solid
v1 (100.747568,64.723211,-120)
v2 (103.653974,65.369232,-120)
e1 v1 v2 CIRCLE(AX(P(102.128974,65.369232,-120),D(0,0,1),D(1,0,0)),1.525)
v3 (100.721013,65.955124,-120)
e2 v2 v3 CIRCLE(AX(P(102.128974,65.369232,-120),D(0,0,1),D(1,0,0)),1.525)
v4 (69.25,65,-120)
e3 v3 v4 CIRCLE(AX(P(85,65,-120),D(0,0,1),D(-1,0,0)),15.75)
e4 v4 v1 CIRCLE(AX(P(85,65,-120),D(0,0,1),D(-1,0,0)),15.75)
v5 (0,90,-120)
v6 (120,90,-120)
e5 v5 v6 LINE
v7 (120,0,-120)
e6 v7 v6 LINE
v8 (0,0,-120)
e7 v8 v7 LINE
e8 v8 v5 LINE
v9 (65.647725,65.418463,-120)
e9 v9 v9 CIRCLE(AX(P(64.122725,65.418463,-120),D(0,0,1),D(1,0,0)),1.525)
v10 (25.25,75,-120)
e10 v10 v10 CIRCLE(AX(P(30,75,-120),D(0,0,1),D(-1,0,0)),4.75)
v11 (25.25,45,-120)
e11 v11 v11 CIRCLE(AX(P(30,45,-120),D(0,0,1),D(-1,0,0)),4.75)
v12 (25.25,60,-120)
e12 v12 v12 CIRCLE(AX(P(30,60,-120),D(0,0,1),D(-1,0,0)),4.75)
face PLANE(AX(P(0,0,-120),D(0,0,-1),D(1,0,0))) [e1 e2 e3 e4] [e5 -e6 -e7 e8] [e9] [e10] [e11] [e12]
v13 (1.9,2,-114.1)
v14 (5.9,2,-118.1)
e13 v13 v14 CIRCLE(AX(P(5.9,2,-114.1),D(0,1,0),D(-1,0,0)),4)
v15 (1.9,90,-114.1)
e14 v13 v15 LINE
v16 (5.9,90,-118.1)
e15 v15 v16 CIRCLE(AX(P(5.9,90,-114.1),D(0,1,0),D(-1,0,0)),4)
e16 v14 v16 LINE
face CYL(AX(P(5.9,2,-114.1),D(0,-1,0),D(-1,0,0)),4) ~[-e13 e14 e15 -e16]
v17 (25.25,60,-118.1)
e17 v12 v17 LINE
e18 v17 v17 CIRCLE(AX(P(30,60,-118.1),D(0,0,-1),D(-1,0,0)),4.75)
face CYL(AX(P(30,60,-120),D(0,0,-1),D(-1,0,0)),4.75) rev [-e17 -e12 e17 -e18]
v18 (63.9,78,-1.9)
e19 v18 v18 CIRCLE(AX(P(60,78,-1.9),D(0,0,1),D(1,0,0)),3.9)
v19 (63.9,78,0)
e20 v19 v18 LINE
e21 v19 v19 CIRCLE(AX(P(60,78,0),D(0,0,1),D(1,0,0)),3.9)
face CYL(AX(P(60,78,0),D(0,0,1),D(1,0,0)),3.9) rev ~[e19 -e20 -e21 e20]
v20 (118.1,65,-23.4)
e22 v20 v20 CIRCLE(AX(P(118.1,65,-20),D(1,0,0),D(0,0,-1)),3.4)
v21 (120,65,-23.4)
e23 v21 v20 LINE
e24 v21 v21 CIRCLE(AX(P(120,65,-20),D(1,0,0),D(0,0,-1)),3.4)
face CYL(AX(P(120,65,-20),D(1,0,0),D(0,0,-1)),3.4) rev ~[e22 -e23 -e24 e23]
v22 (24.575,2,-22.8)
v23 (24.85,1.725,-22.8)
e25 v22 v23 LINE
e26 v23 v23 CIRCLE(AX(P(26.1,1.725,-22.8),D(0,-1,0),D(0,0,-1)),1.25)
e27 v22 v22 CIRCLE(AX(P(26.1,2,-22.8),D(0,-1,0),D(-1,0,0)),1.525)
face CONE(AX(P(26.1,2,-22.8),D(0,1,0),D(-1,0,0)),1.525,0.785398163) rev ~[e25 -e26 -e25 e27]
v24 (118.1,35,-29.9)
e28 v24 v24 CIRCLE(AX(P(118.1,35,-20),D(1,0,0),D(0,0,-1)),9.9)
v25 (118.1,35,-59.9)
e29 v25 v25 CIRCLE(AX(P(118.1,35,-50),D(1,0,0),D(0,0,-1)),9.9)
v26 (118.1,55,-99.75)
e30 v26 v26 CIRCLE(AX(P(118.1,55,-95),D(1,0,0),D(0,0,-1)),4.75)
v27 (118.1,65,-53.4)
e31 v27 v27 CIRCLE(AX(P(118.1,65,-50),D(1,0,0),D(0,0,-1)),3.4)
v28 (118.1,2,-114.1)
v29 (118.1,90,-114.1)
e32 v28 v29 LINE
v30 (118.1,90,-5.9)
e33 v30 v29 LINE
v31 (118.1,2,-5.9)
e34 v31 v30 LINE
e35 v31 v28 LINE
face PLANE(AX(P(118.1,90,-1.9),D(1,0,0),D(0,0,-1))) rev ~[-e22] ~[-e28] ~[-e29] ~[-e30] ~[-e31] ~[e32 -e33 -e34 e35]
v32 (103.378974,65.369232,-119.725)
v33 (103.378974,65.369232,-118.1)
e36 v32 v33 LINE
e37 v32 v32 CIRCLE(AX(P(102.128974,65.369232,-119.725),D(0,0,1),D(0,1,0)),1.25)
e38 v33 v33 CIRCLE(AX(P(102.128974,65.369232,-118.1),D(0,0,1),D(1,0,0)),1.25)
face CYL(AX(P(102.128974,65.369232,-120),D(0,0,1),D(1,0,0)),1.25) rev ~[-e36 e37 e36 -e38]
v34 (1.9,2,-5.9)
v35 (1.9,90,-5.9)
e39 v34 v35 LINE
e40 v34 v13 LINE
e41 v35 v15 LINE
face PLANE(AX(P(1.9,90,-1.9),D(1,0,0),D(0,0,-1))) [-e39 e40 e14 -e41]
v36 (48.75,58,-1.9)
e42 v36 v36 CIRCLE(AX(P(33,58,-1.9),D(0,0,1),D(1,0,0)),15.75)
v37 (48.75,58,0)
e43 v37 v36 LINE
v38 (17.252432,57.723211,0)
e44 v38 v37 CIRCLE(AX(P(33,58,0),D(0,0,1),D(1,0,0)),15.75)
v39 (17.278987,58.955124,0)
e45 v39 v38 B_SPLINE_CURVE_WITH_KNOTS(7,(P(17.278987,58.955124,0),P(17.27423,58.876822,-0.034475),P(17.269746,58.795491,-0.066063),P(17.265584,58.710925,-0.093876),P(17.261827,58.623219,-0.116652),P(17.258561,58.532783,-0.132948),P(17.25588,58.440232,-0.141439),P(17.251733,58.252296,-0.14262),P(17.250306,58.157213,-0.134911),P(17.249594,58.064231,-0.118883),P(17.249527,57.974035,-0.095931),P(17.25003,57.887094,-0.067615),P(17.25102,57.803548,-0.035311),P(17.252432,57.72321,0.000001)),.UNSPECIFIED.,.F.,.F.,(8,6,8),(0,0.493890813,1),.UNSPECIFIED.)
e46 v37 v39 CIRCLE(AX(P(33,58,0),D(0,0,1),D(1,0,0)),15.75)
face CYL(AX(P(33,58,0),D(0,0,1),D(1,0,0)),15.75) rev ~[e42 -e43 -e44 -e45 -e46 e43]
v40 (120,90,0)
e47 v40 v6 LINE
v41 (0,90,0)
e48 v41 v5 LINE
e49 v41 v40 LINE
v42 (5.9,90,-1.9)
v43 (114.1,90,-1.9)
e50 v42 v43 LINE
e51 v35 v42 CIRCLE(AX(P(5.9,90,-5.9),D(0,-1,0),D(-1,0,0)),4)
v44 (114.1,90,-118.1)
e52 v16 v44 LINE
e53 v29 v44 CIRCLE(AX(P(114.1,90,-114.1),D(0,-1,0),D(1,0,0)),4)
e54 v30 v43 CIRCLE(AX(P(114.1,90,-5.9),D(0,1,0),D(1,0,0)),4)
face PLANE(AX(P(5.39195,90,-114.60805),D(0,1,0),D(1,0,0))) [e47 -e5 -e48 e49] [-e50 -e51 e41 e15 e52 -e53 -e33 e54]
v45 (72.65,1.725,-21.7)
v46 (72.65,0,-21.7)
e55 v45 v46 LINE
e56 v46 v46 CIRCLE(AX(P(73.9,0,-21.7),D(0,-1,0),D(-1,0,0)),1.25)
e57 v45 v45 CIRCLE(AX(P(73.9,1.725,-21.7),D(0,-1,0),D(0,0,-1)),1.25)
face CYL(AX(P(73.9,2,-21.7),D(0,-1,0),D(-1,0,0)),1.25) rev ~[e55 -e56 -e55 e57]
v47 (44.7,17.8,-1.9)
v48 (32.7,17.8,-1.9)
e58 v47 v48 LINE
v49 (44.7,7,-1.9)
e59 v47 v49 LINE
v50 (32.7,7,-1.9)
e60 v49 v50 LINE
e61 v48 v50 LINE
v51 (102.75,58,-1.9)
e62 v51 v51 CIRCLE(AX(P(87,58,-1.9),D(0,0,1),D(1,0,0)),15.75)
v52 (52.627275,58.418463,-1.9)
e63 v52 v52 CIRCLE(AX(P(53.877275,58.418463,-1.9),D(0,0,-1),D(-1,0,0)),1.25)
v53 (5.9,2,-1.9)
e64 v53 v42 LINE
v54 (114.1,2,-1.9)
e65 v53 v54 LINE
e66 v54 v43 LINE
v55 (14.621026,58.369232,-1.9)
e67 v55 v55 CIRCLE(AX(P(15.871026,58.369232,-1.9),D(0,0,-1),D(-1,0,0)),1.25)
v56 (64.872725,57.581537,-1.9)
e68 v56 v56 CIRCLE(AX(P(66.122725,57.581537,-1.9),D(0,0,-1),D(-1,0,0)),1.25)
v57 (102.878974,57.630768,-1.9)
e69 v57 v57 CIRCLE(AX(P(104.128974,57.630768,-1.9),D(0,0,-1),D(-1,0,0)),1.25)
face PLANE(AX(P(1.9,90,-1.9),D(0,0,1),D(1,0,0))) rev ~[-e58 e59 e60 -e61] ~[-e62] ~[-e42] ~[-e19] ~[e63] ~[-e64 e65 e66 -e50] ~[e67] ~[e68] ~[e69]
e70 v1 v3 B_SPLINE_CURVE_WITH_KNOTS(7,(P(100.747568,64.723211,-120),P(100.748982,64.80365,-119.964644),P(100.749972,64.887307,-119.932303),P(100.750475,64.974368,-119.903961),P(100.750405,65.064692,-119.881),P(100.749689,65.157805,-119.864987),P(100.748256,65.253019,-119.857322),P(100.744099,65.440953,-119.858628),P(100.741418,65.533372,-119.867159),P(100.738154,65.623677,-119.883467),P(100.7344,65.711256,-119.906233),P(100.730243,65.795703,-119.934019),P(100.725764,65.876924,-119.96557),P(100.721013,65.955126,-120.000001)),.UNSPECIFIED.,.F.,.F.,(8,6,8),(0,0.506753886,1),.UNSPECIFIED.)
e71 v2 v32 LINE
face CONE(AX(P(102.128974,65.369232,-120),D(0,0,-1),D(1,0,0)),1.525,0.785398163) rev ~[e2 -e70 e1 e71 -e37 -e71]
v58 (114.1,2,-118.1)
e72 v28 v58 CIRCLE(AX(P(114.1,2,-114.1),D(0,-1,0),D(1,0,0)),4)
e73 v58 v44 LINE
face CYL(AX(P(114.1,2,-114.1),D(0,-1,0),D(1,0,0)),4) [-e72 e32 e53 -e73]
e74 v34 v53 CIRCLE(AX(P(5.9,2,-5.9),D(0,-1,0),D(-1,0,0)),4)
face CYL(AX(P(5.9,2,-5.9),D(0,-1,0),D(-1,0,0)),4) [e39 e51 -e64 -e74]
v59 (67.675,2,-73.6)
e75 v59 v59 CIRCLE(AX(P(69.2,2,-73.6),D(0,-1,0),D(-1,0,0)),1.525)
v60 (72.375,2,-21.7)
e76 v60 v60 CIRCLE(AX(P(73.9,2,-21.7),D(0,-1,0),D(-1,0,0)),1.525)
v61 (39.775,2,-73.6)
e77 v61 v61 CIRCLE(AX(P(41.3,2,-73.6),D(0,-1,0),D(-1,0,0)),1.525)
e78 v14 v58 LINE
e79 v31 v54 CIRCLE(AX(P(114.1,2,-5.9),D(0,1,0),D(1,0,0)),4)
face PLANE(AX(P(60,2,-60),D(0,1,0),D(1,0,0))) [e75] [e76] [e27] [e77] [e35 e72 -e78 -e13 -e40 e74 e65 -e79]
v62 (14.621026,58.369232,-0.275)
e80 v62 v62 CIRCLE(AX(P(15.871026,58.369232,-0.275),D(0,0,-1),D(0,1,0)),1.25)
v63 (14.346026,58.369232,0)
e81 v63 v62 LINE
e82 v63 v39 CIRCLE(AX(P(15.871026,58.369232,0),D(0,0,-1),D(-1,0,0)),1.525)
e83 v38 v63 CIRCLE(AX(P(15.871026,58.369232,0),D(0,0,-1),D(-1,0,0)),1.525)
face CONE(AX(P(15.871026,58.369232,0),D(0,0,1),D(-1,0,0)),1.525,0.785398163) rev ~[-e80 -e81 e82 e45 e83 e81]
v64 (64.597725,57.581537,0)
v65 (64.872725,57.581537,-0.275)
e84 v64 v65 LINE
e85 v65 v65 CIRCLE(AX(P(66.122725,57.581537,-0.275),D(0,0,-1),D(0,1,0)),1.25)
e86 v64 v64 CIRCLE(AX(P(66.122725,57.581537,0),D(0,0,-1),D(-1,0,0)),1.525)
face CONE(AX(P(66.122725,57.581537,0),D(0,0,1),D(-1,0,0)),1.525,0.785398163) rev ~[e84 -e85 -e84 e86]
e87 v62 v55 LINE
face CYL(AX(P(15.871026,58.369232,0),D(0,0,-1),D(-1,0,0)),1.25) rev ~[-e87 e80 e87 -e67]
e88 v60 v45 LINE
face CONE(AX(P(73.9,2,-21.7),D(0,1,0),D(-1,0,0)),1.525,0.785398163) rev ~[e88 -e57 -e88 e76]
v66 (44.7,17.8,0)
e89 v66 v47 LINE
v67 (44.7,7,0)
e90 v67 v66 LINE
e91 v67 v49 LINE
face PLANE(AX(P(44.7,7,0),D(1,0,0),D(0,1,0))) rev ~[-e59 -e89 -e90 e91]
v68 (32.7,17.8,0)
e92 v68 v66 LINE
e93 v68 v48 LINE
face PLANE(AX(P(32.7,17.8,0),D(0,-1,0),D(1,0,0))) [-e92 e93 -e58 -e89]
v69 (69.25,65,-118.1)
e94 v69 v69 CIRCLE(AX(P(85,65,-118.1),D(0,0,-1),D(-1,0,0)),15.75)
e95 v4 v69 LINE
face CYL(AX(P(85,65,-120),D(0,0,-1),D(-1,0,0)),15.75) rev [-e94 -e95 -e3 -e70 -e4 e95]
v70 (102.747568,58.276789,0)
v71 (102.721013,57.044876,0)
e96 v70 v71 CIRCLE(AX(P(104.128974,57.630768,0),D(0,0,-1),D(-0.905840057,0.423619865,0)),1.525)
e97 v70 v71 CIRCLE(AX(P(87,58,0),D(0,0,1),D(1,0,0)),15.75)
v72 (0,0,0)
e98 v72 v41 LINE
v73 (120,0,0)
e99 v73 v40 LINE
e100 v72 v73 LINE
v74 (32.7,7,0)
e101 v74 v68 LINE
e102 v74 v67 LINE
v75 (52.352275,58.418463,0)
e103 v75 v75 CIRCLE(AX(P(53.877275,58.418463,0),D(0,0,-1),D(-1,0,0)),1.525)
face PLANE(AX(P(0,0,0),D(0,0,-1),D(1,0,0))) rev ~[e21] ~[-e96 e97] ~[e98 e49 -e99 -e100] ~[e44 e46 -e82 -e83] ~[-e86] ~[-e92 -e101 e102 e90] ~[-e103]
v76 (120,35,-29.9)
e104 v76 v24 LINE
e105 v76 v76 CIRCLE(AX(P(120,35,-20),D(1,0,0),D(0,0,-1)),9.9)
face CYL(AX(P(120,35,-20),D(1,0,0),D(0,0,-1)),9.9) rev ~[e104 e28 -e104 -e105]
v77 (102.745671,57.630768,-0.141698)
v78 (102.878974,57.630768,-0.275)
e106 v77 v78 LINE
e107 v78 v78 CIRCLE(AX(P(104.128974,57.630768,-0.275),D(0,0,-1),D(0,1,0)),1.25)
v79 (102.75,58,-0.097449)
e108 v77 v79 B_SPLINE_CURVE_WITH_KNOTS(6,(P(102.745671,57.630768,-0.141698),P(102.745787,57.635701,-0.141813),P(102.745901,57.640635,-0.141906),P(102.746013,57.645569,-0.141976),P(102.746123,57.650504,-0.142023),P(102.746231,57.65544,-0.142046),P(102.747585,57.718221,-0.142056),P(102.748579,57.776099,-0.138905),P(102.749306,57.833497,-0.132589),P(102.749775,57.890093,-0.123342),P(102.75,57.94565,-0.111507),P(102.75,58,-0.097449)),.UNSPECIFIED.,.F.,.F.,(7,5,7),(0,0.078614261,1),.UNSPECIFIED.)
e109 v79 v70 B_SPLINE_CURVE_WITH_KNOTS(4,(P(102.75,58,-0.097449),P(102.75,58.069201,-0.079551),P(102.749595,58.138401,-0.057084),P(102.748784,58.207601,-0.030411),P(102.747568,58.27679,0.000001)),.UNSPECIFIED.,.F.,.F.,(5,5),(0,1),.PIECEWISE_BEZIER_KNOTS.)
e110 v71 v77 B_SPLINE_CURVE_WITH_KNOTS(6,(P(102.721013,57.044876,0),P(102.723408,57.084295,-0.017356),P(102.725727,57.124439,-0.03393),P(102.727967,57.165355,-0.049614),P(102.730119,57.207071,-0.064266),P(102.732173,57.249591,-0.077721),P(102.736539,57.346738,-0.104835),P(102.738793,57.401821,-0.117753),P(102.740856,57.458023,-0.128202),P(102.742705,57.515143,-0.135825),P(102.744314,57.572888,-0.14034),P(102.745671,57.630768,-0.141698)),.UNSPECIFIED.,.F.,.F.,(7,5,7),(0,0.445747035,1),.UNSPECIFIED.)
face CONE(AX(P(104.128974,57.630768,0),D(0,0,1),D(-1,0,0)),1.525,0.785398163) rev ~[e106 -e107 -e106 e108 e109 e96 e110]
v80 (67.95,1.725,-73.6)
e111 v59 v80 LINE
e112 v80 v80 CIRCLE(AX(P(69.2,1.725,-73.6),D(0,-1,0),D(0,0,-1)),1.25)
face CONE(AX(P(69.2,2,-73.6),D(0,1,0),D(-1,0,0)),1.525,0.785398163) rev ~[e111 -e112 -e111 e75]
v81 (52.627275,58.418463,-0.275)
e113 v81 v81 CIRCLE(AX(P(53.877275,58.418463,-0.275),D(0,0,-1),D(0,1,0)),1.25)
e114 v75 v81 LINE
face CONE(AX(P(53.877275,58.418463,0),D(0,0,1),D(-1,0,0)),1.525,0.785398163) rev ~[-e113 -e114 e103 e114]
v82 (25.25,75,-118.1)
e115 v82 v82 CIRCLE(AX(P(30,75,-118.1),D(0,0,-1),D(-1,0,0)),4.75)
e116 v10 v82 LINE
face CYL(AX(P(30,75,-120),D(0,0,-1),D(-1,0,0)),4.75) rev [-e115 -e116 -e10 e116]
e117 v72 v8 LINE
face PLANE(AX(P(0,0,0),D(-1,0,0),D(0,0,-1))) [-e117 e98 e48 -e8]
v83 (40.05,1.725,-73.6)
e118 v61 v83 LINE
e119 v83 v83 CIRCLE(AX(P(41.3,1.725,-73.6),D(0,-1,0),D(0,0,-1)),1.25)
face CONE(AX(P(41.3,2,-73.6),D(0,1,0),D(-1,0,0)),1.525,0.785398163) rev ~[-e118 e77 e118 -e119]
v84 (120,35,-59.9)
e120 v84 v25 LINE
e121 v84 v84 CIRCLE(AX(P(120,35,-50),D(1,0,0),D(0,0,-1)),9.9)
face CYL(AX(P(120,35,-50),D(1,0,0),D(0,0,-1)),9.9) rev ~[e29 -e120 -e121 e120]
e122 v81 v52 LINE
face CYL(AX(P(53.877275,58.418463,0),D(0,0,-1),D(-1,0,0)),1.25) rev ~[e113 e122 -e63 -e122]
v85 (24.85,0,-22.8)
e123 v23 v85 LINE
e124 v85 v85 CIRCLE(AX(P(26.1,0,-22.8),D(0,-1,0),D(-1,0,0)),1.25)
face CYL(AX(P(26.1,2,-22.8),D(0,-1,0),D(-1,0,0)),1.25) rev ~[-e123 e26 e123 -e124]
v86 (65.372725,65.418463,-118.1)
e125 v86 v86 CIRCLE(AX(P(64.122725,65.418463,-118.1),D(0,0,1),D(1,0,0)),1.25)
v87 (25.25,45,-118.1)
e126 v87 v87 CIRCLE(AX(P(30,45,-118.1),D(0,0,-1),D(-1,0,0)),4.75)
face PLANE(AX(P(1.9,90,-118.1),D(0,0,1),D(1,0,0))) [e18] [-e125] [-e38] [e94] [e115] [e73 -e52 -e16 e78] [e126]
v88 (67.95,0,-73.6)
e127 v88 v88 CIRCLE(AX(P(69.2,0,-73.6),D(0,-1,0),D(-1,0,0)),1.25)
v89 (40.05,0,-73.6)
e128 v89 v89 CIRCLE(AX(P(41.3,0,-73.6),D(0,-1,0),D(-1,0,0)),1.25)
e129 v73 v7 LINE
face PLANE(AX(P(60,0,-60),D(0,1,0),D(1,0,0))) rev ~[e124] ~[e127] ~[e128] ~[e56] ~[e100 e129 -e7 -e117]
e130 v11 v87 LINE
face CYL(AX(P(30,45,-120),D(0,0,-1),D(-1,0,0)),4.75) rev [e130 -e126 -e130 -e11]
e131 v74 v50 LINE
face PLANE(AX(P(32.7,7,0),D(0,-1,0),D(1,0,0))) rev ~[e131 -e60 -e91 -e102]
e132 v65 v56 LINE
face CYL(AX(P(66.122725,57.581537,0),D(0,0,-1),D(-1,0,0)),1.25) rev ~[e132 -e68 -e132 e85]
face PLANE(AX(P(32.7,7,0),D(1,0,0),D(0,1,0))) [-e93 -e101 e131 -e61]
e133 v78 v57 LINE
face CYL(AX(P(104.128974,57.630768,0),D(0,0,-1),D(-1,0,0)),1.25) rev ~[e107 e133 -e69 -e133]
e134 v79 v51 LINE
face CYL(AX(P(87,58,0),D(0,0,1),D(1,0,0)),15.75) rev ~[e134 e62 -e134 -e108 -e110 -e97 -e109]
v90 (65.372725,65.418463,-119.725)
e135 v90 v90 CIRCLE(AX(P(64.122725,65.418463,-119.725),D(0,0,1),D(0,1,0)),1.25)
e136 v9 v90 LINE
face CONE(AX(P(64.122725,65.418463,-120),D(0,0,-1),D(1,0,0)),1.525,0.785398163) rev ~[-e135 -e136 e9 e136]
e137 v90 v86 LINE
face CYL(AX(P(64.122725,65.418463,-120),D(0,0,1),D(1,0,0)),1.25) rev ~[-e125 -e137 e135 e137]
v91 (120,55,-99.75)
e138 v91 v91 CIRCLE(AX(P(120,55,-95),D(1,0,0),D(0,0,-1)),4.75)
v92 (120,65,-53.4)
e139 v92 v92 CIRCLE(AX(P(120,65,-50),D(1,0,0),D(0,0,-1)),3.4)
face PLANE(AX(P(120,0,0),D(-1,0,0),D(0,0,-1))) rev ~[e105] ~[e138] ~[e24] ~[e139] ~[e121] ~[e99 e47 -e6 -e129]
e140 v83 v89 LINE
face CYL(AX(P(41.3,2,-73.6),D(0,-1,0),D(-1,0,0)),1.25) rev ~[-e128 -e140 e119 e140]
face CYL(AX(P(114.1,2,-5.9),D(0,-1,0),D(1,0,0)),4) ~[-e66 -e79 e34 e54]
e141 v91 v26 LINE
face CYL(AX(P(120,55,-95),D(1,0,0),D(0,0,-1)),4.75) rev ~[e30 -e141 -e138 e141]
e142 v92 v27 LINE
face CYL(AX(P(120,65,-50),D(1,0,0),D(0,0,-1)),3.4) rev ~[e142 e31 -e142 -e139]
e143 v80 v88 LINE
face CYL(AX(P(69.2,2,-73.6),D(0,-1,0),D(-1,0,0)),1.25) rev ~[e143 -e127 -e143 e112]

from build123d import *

# Parameters (mm, degrees)
SKETCH1_W                   = 120
SKETCH1_H                   = 120
BOSS_EXTRUDE1_DEPTH         = 90
SKETCH2_W                   = 116.2
SKETCH2_H                   = 116.2
CUT_EXTRUDE1_DEPTH          = 88
BOSS_EXTRUDE2_DEPTH         = 88
CUT_EXTRUDE2_REACH          = 194.094
SKETCH5_R                   = 4.75
SKETCH5_R_2                 = 15.75
CUT_EXTRUDE3_REACH          = 194.094
SKETCH4_R                   = 3.9
SKETCH4_R_2                 = 15.75
SKETCH4_W                   = 12
SKETCH4_H                   = 10.8
CUT_EXTRUDE4_REACH          = 194.094
SKETCH6_R                   = 4.75
SKETCH6_R_2                 = 3.4
SKETCH6_R_3                 = 9.9
M3_TAPPED_HOLE1_D           = 2.5
M3_TAPPED_HOLE1_CSINK_D     = 3.05
M3_TAPPED_HOLE1_CSINK_ANGLE = 90
M3_TAPPED_HOLE3_D           = 2.5
M3_TAPPED_HOLE3_DEPTH       = 7.5
M3_TAPPED_HOLE3_CSINK_D     = 3.05
M3_TAPPED_HOLE3_CSINK_ANGLE = 90
M3_TAPPED_HOLE3_TIP         = 0.751075774
M3_TAPPED_HOLE4_D           = 2.5
M3_TAPPED_HOLE4_DEPTH       = 7.5
M3_TAPPED_HOLE4_CSINK_D     = 3.05
M3_TAPPED_HOLE4_CSINK_ANGLE = 90
M3_TAPPED_HOLE4_TIP         = 0.751075774


with BuildPart() as part:
    # Sketch1 → Boss-Extrude1 (new body)
    with BuildSketch(Plane(origin=(0, 0, 0), x_dir=(1, 0, 0), z_dir=(0, 1, 0))):
        with Locations((60, 60)):
            Rectangle(SKETCH1_W, SKETCH1_H)
    extrude(amount=BOSS_EXTRUDE1_DEPTH)

    # Sketch2 → Cut-Extrude1 (cut)
    with BuildSketch(Plane(origin=(0, 90, 0), x_dir=(1, 0, 0), z_dir=(0, 1, 0))):
        with Locations((60, 60)):
            Rectangle(SKETCH2_W, SKETCH2_H)
    extrude(amount=-CUT_EXTRUDE1_DEPTH, mode=Mode.SUBTRACT)

    # Sketch3 → Boss-Extrude2 (add)
    with BuildSketch(Plane(origin=(0, 2, 0), x_dir=(1, 0, 0), z_dir=(0, 1, 0))):
        with BuildLine():
            Line((5.9, 118.1), (1.9, 118.1))
            Line((1.9, 118.1), (1.9, 114.1))
            ThreePointArc((1.9, 114.1), (8.728427125, 111.271572875), (5.9, 118.1))
        make_face()
        with BuildLine():
            Line((114.1, 118.1), (118.1, 118.1))
            Line((118.1, 118.1), (118.1, 114.1))
            ThreePointArc((118.1, 114.1), (111.271572875, 111.271572875), (114.1, 118.1))
        make_face()
        with BuildLine():
            Line((118.1, 1.9), (118.1, 5.9))
            ThreePointArc((118.1, 5.9), (111.271572875, 8.728427125), (114.1, 1.9))
            Line((114.1, 1.9), (118.1, 1.9))
        make_face()
        with BuildLine():
            Line((1.9, 1.9), (1.9, 5.9))
            ThreePointArc((1.9, 5.9), (8.728427125, 8.728427125), (5.9, 1.9))
            Line((5.9, 1.9), (1.9, 1.9))
        make_face()
    extrude(amount=BOSS_EXTRUDE2_DEPTH)

    # Sketch5 → Cut-Extrude2 (cut, up to next)
    with BuildSketch(Plane.XY.offset(-120), mode=Mode.PRIVATE) as cut_extrude2_sk1:
        with Locations(Location((30, 75, 0), (0, 0, 180))):
            Circle(SKETCH5_R)
    cut_extrude2_tool1 = extrude(cut_extrude2_sk1.sketch, amount=CUT_EXTRUDE2_REACH, mode=Mode.PRIVATE) & part.part
    # Sketch5 → Cut-Extrude2 (cut, up to next)
    with BuildSketch(Plane.XY.offset(-120), mode=Mode.PRIVATE) as cut_extrude2_sk2:
        with Locations(Location((85, 65, 0), (0, 0, 180))):
            Circle(SKETCH5_R_2)
    cut_extrude2_tool2 = extrude(cut_extrude2_sk2.sketch, amount=CUT_EXTRUDE2_REACH, mode=Mode.PRIVATE) & part.part
    # Sketch5 → Cut-Extrude2 (cut, up to next)
    with BuildSketch(Plane.XY.offset(-120), mode=Mode.PRIVATE) as cut_extrude2_sk3:
        with Locations(Location((30, 60, 0), (0, 0, 180))):
            Circle(SKETCH5_R)
    cut_extrude2_tool3 = extrude(cut_extrude2_sk3.sketch, amount=CUT_EXTRUDE2_REACH, mode=Mode.PRIVATE) & part.part
    # Sketch5 → Cut-Extrude2 (cut, up to next)
    with BuildSketch(Plane.XY.offset(-120), mode=Mode.PRIVATE) as cut_extrude2_sk4:
        with Locations(Location((30, 45, 0), (0, 0, 180))):
            Circle(SKETCH5_R)
    cut_extrude2_tool4 = extrude(cut_extrude2_sk4.sketch, amount=CUT_EXTRUDE2_REACH, mode=Mode.PRIVATE) & part.part
    add(cut_extrude2_tool1.solids().sort_by_distance((30, 75, -120))[0], mode=Mode.SUBTRACT)
    add(cut_extrude2_tool2.solids().sort_by_distance((85, 65, -120))[0], mode=Mode.SUBTRACT)
    add(cut_extrude2_tool3.solids().sort_by_distance((30, 60, -120))[0], mode=Mode.SUBTRACT)
    add(cut_extrude2_tool4.solids().sort_by_distance((30, 45, -120))[0], mode=Mode.SUBTRACT)

    # Sketch4 → Cut-Extrude3 (cut, up to next)
    with BuildSketch(Plane.XY, mode=Mode.PRIVATE) as cut_extrude3_sk1:
        with Locations((60, 78)):
            Circle(SKETCH4_R)
    cut_extrude3_tool1 = extrude(cut_extrude3_sk1.sketch, amount=-CUT_EXTRUDE3_REACH, mode=Mode.PRIVATE) & part.part
    # Sketch4 → Cut-Extrude3 (cut, up to next)
    with BuildSketch(Plane.XY, mode=Mode.PRIVATE) as cut_extrude3_sk2:
        with Locations((33, 58)):
            Circle(SKETCH4_R_2)
    cut_extrude3_tool2 = extrude(cut_extrude3_sk2.sketch, amount=-CUT_EXTRUDE3_REACH, mode=Mode.PRIVATE) & part.part
    # Sketch4 → Cut-Extrude3 (cut, up to next)
    with BuildSketch(Plane.XY, mode=Mode.PRIVATE) as cut_extrude3_sk3:
        with Locations((87, 58)):
            Circle(SKETCH4_R_2)
    cut_extrude3_tool3 = extrude(cut_extrude3_sk3.sketch, amount=-CUT_EXTRUDE3_REACH, mode=Mode.PRIVATE) & part.part
    # Sketch4 → Cut-Extrude3 (cut, up to next)
    with BuildSketch(Plane.XY, mode=Mode.PRIVATE) as cut_extrude3_sk4:
        with Locations((38.7, 12.4)):
            Rectangle(SKETCH4_W, SKETCH4_H)
    cut_extrude3_tool4 = extrude(cut_extrude3_sk4.sketch, amount=-CUT_EXTRUDE3_REACH, mode=Mode.PRIVATE) & part.part
    add(cut_extrude3_tool1.solids().sort_by_distance((60, 78, 0))[0], mode=Mode.SUBTRACT)
    add(cut_extrude3_tool2.solids().sort_by_distance((33, 58, 0))[0], mode=Mode.SUBTRACT)
    add(cut_extrude3_tool3.solids().sort_by_distance((87, 58, 0))[0], mode=Mode.SUBTRACT)
    add(cut_extrude3_tool4.solids().sort_by_distance((38.7, 12.4, 0))[0], mode=Mode.SUBTRACT)

    # Sketch6 → Cut-Extrude4 (cut, up to next)
    with BuildSketch(Plane(origin=(120, 0, 0), x_dir=(0, 0, -1), z_dir=(1, 0, 0)), mode=Mode.PRIVATE) as cut_extrude4_sk1:
        with Locations((95, 55)):
            Circle(SKETCH6_R)
    cut_extrude4_tool1 = extrude(cut_extrude4_sk1.sketch, amount=-CUT_EXTRUDE4_REACH, mode=Mode.PRIVATE) & part.part
    # Sketch6 → Cut-Extrude4 (cut, up to next)
    with BuildSketch(Plane(origin=(120, 0, 0), x_dir=(0, 0, -1), z_dir=(1, 0, 0)), mode=Mode.PRIVATE) as cut_extrude4_sk2:
        with Locations((20, 65)):
            Circle(SKETCH6_R_2)
    cut_extrude4_tool2 = extrude(cut_extrude4_sk2.sketch, amount=-CUT_EXTRUDE4_REACH, mode=Mode.PRIVATE) & part.part
    # Sketch6 → Cut-Extrude4 (cut, up to next)
    with BuildSketch(Plane(origin=(120, 0, 0), x_dir=(0, 0, -1), z_dir=(1, 0, 0)), mode=Mode.PRIVATE) as cut_extrude4_sk3:
        with Locations((50, 65)):
            Circle(SKETCH6_R_2)
    cut_extrude4_tool3 = extrude(cut_extrude4_sk3.sketch, amount=-CUT_EXTRUDE4_REACH, mode=Mode.PRIVATE) & part.part
    # Sketch6 → Cut-Extrude4 (cut, up to next)
    with BuildSketch(Plane(origin=(120, 0, 0), x_dir=(0, 0, -1), z_dir=(1, 0, 0)), mode=Mode.PRIVATE) as cut_extrude4_sk4:
        with Locations((20, 35)):
            Circle(SKETCH6_R_3)
    cut_extrude4_tool4 = extrude(cut_extrude4_sk4.sketch, amount=-CUT_EXTRUDE4_REACH, mode=Mode.PRIVATE) & part.part
    # Sketch6 → Cut-Extrude4 (cut, up to next)
    with BuildSketch(Plane(origin=(120, 0, 0), x_dir=(0, 0, -1), z_dir=(1, 0, 0)), mode=Mode.PRIVATE) as cut_extrude4_sk5:
        with Locations((50, 35)):
            Circle(SKETCH6_R_3)
    cut_extrude4_tool5 = extrude(cut_extrude4_sk5.sketch, amount=-CUT_EXTRUDE4_REACH, mode=Mode.PRIVATE) & part.part
    add(cut_extrude4_tool1.solids().sort_by_distance((120, 55, -95))[0], mode=Mode.SUBTRACT)
    add(cut_extrude4_tool2.solids().sort_by_distance((120, 65, -20))[0], mode=Mode.SUBTRACT)
    add(cut_extrude4_tool3.solids().sort_by_distance((120, 65, -50))[0], mode=Mode.SUBTRACT)
    add(cut_extrude4_tool4.solids().sort_by_distance((120, 35, -20))[0], mode=Mode.SUBTRACT)
    add(cut_extrude4_tool5.solids().sort_by_distance((120, 35, -50))[0], mode=Mode.SUBTRACT)

    # M3 Tapped Hole1 (through all)
    with Locations(Plane(origin=(44.517722268, 2, -162.246849146), x_dir=(1, 0, 0), z_dir=(0, 1, 0))):
        with Locations((-18.417722268, -139.446849146), (-3.217722268, -88.646849146), (24.682277732, -88.646849146), (29.382277732, -140.546849146)):
            CounterSinkHole(M3_TAPPED_HOLE1_D / 2, M3_TAPPED_HOLE1_CSINK_D / 2, counter_sink_angle=M3_TAPPED_HOLE1_CSINK_ANGLE)

    # M3 Tapped Hole3
    with Locations(Plane(origin=(44.517722268, -28.75570348, 0), x_dir=(1, 0, 0), z_dir=(0, 0, 1))):
        with Locations((-28.646696043, 87.124935168), (9.359552373, 87.17416606), (21.605003092, 86.3372409), (59.611251507, 86.386471792)):
            CounterSinkHole(M3_TAPPED_HOLE3_D / 2, M3_TAPPED_HOLE3_CSINK_D / 2, depth=M3_TAPPED_HOLE3_DEPTH, counter_sink_angle=M3_TAPPED_HOLE3_CSINK_ANGLE)
            with Locations((0, 0, -(M3_TAPPED_HOLE3_DEPTH + M3_TAPPED_HOLE3_TIP / 2))):  # 118° drill point
                Cone(0, M3_TAPPED_HOLE3_D / 2, M3_TAPPED_HOLE3_TIP, mode=Mode.SUBTRACT)

    # M3 Tapped Hole4
    with Locations(Plane(origin=(44.517722268, -28.75570348, -120), x_dir=(-1, 0, 0), z_dir=(0, 0, -1))):
        with Locations((-57.611251507, 94.124935168), (-19.605003092, 94.17416606)):
            CounterSinkHole(M3_TAPPED_HOLE4_D / 2, M3_TAPPED_HOLE4_CSINK_D / 2, depth=M3_TAPPED_HOLE4_DEPTH, counter_sink_angle=M3_TAPPED_HOLE4_CSINK_ANGLE)
            with Locations((0, 0, -(M3_TAPPED_HOLE4_DEPTH + M3_TAPPED_HOLE4_TIP / 2))):  # 118° drill point
                Cone(0, M3_TAPPED_HOLE4_D / 2, M3_TAPPED_HOLE4_TIP, mode=Mode.SUBTRACT)


solid = part.part
